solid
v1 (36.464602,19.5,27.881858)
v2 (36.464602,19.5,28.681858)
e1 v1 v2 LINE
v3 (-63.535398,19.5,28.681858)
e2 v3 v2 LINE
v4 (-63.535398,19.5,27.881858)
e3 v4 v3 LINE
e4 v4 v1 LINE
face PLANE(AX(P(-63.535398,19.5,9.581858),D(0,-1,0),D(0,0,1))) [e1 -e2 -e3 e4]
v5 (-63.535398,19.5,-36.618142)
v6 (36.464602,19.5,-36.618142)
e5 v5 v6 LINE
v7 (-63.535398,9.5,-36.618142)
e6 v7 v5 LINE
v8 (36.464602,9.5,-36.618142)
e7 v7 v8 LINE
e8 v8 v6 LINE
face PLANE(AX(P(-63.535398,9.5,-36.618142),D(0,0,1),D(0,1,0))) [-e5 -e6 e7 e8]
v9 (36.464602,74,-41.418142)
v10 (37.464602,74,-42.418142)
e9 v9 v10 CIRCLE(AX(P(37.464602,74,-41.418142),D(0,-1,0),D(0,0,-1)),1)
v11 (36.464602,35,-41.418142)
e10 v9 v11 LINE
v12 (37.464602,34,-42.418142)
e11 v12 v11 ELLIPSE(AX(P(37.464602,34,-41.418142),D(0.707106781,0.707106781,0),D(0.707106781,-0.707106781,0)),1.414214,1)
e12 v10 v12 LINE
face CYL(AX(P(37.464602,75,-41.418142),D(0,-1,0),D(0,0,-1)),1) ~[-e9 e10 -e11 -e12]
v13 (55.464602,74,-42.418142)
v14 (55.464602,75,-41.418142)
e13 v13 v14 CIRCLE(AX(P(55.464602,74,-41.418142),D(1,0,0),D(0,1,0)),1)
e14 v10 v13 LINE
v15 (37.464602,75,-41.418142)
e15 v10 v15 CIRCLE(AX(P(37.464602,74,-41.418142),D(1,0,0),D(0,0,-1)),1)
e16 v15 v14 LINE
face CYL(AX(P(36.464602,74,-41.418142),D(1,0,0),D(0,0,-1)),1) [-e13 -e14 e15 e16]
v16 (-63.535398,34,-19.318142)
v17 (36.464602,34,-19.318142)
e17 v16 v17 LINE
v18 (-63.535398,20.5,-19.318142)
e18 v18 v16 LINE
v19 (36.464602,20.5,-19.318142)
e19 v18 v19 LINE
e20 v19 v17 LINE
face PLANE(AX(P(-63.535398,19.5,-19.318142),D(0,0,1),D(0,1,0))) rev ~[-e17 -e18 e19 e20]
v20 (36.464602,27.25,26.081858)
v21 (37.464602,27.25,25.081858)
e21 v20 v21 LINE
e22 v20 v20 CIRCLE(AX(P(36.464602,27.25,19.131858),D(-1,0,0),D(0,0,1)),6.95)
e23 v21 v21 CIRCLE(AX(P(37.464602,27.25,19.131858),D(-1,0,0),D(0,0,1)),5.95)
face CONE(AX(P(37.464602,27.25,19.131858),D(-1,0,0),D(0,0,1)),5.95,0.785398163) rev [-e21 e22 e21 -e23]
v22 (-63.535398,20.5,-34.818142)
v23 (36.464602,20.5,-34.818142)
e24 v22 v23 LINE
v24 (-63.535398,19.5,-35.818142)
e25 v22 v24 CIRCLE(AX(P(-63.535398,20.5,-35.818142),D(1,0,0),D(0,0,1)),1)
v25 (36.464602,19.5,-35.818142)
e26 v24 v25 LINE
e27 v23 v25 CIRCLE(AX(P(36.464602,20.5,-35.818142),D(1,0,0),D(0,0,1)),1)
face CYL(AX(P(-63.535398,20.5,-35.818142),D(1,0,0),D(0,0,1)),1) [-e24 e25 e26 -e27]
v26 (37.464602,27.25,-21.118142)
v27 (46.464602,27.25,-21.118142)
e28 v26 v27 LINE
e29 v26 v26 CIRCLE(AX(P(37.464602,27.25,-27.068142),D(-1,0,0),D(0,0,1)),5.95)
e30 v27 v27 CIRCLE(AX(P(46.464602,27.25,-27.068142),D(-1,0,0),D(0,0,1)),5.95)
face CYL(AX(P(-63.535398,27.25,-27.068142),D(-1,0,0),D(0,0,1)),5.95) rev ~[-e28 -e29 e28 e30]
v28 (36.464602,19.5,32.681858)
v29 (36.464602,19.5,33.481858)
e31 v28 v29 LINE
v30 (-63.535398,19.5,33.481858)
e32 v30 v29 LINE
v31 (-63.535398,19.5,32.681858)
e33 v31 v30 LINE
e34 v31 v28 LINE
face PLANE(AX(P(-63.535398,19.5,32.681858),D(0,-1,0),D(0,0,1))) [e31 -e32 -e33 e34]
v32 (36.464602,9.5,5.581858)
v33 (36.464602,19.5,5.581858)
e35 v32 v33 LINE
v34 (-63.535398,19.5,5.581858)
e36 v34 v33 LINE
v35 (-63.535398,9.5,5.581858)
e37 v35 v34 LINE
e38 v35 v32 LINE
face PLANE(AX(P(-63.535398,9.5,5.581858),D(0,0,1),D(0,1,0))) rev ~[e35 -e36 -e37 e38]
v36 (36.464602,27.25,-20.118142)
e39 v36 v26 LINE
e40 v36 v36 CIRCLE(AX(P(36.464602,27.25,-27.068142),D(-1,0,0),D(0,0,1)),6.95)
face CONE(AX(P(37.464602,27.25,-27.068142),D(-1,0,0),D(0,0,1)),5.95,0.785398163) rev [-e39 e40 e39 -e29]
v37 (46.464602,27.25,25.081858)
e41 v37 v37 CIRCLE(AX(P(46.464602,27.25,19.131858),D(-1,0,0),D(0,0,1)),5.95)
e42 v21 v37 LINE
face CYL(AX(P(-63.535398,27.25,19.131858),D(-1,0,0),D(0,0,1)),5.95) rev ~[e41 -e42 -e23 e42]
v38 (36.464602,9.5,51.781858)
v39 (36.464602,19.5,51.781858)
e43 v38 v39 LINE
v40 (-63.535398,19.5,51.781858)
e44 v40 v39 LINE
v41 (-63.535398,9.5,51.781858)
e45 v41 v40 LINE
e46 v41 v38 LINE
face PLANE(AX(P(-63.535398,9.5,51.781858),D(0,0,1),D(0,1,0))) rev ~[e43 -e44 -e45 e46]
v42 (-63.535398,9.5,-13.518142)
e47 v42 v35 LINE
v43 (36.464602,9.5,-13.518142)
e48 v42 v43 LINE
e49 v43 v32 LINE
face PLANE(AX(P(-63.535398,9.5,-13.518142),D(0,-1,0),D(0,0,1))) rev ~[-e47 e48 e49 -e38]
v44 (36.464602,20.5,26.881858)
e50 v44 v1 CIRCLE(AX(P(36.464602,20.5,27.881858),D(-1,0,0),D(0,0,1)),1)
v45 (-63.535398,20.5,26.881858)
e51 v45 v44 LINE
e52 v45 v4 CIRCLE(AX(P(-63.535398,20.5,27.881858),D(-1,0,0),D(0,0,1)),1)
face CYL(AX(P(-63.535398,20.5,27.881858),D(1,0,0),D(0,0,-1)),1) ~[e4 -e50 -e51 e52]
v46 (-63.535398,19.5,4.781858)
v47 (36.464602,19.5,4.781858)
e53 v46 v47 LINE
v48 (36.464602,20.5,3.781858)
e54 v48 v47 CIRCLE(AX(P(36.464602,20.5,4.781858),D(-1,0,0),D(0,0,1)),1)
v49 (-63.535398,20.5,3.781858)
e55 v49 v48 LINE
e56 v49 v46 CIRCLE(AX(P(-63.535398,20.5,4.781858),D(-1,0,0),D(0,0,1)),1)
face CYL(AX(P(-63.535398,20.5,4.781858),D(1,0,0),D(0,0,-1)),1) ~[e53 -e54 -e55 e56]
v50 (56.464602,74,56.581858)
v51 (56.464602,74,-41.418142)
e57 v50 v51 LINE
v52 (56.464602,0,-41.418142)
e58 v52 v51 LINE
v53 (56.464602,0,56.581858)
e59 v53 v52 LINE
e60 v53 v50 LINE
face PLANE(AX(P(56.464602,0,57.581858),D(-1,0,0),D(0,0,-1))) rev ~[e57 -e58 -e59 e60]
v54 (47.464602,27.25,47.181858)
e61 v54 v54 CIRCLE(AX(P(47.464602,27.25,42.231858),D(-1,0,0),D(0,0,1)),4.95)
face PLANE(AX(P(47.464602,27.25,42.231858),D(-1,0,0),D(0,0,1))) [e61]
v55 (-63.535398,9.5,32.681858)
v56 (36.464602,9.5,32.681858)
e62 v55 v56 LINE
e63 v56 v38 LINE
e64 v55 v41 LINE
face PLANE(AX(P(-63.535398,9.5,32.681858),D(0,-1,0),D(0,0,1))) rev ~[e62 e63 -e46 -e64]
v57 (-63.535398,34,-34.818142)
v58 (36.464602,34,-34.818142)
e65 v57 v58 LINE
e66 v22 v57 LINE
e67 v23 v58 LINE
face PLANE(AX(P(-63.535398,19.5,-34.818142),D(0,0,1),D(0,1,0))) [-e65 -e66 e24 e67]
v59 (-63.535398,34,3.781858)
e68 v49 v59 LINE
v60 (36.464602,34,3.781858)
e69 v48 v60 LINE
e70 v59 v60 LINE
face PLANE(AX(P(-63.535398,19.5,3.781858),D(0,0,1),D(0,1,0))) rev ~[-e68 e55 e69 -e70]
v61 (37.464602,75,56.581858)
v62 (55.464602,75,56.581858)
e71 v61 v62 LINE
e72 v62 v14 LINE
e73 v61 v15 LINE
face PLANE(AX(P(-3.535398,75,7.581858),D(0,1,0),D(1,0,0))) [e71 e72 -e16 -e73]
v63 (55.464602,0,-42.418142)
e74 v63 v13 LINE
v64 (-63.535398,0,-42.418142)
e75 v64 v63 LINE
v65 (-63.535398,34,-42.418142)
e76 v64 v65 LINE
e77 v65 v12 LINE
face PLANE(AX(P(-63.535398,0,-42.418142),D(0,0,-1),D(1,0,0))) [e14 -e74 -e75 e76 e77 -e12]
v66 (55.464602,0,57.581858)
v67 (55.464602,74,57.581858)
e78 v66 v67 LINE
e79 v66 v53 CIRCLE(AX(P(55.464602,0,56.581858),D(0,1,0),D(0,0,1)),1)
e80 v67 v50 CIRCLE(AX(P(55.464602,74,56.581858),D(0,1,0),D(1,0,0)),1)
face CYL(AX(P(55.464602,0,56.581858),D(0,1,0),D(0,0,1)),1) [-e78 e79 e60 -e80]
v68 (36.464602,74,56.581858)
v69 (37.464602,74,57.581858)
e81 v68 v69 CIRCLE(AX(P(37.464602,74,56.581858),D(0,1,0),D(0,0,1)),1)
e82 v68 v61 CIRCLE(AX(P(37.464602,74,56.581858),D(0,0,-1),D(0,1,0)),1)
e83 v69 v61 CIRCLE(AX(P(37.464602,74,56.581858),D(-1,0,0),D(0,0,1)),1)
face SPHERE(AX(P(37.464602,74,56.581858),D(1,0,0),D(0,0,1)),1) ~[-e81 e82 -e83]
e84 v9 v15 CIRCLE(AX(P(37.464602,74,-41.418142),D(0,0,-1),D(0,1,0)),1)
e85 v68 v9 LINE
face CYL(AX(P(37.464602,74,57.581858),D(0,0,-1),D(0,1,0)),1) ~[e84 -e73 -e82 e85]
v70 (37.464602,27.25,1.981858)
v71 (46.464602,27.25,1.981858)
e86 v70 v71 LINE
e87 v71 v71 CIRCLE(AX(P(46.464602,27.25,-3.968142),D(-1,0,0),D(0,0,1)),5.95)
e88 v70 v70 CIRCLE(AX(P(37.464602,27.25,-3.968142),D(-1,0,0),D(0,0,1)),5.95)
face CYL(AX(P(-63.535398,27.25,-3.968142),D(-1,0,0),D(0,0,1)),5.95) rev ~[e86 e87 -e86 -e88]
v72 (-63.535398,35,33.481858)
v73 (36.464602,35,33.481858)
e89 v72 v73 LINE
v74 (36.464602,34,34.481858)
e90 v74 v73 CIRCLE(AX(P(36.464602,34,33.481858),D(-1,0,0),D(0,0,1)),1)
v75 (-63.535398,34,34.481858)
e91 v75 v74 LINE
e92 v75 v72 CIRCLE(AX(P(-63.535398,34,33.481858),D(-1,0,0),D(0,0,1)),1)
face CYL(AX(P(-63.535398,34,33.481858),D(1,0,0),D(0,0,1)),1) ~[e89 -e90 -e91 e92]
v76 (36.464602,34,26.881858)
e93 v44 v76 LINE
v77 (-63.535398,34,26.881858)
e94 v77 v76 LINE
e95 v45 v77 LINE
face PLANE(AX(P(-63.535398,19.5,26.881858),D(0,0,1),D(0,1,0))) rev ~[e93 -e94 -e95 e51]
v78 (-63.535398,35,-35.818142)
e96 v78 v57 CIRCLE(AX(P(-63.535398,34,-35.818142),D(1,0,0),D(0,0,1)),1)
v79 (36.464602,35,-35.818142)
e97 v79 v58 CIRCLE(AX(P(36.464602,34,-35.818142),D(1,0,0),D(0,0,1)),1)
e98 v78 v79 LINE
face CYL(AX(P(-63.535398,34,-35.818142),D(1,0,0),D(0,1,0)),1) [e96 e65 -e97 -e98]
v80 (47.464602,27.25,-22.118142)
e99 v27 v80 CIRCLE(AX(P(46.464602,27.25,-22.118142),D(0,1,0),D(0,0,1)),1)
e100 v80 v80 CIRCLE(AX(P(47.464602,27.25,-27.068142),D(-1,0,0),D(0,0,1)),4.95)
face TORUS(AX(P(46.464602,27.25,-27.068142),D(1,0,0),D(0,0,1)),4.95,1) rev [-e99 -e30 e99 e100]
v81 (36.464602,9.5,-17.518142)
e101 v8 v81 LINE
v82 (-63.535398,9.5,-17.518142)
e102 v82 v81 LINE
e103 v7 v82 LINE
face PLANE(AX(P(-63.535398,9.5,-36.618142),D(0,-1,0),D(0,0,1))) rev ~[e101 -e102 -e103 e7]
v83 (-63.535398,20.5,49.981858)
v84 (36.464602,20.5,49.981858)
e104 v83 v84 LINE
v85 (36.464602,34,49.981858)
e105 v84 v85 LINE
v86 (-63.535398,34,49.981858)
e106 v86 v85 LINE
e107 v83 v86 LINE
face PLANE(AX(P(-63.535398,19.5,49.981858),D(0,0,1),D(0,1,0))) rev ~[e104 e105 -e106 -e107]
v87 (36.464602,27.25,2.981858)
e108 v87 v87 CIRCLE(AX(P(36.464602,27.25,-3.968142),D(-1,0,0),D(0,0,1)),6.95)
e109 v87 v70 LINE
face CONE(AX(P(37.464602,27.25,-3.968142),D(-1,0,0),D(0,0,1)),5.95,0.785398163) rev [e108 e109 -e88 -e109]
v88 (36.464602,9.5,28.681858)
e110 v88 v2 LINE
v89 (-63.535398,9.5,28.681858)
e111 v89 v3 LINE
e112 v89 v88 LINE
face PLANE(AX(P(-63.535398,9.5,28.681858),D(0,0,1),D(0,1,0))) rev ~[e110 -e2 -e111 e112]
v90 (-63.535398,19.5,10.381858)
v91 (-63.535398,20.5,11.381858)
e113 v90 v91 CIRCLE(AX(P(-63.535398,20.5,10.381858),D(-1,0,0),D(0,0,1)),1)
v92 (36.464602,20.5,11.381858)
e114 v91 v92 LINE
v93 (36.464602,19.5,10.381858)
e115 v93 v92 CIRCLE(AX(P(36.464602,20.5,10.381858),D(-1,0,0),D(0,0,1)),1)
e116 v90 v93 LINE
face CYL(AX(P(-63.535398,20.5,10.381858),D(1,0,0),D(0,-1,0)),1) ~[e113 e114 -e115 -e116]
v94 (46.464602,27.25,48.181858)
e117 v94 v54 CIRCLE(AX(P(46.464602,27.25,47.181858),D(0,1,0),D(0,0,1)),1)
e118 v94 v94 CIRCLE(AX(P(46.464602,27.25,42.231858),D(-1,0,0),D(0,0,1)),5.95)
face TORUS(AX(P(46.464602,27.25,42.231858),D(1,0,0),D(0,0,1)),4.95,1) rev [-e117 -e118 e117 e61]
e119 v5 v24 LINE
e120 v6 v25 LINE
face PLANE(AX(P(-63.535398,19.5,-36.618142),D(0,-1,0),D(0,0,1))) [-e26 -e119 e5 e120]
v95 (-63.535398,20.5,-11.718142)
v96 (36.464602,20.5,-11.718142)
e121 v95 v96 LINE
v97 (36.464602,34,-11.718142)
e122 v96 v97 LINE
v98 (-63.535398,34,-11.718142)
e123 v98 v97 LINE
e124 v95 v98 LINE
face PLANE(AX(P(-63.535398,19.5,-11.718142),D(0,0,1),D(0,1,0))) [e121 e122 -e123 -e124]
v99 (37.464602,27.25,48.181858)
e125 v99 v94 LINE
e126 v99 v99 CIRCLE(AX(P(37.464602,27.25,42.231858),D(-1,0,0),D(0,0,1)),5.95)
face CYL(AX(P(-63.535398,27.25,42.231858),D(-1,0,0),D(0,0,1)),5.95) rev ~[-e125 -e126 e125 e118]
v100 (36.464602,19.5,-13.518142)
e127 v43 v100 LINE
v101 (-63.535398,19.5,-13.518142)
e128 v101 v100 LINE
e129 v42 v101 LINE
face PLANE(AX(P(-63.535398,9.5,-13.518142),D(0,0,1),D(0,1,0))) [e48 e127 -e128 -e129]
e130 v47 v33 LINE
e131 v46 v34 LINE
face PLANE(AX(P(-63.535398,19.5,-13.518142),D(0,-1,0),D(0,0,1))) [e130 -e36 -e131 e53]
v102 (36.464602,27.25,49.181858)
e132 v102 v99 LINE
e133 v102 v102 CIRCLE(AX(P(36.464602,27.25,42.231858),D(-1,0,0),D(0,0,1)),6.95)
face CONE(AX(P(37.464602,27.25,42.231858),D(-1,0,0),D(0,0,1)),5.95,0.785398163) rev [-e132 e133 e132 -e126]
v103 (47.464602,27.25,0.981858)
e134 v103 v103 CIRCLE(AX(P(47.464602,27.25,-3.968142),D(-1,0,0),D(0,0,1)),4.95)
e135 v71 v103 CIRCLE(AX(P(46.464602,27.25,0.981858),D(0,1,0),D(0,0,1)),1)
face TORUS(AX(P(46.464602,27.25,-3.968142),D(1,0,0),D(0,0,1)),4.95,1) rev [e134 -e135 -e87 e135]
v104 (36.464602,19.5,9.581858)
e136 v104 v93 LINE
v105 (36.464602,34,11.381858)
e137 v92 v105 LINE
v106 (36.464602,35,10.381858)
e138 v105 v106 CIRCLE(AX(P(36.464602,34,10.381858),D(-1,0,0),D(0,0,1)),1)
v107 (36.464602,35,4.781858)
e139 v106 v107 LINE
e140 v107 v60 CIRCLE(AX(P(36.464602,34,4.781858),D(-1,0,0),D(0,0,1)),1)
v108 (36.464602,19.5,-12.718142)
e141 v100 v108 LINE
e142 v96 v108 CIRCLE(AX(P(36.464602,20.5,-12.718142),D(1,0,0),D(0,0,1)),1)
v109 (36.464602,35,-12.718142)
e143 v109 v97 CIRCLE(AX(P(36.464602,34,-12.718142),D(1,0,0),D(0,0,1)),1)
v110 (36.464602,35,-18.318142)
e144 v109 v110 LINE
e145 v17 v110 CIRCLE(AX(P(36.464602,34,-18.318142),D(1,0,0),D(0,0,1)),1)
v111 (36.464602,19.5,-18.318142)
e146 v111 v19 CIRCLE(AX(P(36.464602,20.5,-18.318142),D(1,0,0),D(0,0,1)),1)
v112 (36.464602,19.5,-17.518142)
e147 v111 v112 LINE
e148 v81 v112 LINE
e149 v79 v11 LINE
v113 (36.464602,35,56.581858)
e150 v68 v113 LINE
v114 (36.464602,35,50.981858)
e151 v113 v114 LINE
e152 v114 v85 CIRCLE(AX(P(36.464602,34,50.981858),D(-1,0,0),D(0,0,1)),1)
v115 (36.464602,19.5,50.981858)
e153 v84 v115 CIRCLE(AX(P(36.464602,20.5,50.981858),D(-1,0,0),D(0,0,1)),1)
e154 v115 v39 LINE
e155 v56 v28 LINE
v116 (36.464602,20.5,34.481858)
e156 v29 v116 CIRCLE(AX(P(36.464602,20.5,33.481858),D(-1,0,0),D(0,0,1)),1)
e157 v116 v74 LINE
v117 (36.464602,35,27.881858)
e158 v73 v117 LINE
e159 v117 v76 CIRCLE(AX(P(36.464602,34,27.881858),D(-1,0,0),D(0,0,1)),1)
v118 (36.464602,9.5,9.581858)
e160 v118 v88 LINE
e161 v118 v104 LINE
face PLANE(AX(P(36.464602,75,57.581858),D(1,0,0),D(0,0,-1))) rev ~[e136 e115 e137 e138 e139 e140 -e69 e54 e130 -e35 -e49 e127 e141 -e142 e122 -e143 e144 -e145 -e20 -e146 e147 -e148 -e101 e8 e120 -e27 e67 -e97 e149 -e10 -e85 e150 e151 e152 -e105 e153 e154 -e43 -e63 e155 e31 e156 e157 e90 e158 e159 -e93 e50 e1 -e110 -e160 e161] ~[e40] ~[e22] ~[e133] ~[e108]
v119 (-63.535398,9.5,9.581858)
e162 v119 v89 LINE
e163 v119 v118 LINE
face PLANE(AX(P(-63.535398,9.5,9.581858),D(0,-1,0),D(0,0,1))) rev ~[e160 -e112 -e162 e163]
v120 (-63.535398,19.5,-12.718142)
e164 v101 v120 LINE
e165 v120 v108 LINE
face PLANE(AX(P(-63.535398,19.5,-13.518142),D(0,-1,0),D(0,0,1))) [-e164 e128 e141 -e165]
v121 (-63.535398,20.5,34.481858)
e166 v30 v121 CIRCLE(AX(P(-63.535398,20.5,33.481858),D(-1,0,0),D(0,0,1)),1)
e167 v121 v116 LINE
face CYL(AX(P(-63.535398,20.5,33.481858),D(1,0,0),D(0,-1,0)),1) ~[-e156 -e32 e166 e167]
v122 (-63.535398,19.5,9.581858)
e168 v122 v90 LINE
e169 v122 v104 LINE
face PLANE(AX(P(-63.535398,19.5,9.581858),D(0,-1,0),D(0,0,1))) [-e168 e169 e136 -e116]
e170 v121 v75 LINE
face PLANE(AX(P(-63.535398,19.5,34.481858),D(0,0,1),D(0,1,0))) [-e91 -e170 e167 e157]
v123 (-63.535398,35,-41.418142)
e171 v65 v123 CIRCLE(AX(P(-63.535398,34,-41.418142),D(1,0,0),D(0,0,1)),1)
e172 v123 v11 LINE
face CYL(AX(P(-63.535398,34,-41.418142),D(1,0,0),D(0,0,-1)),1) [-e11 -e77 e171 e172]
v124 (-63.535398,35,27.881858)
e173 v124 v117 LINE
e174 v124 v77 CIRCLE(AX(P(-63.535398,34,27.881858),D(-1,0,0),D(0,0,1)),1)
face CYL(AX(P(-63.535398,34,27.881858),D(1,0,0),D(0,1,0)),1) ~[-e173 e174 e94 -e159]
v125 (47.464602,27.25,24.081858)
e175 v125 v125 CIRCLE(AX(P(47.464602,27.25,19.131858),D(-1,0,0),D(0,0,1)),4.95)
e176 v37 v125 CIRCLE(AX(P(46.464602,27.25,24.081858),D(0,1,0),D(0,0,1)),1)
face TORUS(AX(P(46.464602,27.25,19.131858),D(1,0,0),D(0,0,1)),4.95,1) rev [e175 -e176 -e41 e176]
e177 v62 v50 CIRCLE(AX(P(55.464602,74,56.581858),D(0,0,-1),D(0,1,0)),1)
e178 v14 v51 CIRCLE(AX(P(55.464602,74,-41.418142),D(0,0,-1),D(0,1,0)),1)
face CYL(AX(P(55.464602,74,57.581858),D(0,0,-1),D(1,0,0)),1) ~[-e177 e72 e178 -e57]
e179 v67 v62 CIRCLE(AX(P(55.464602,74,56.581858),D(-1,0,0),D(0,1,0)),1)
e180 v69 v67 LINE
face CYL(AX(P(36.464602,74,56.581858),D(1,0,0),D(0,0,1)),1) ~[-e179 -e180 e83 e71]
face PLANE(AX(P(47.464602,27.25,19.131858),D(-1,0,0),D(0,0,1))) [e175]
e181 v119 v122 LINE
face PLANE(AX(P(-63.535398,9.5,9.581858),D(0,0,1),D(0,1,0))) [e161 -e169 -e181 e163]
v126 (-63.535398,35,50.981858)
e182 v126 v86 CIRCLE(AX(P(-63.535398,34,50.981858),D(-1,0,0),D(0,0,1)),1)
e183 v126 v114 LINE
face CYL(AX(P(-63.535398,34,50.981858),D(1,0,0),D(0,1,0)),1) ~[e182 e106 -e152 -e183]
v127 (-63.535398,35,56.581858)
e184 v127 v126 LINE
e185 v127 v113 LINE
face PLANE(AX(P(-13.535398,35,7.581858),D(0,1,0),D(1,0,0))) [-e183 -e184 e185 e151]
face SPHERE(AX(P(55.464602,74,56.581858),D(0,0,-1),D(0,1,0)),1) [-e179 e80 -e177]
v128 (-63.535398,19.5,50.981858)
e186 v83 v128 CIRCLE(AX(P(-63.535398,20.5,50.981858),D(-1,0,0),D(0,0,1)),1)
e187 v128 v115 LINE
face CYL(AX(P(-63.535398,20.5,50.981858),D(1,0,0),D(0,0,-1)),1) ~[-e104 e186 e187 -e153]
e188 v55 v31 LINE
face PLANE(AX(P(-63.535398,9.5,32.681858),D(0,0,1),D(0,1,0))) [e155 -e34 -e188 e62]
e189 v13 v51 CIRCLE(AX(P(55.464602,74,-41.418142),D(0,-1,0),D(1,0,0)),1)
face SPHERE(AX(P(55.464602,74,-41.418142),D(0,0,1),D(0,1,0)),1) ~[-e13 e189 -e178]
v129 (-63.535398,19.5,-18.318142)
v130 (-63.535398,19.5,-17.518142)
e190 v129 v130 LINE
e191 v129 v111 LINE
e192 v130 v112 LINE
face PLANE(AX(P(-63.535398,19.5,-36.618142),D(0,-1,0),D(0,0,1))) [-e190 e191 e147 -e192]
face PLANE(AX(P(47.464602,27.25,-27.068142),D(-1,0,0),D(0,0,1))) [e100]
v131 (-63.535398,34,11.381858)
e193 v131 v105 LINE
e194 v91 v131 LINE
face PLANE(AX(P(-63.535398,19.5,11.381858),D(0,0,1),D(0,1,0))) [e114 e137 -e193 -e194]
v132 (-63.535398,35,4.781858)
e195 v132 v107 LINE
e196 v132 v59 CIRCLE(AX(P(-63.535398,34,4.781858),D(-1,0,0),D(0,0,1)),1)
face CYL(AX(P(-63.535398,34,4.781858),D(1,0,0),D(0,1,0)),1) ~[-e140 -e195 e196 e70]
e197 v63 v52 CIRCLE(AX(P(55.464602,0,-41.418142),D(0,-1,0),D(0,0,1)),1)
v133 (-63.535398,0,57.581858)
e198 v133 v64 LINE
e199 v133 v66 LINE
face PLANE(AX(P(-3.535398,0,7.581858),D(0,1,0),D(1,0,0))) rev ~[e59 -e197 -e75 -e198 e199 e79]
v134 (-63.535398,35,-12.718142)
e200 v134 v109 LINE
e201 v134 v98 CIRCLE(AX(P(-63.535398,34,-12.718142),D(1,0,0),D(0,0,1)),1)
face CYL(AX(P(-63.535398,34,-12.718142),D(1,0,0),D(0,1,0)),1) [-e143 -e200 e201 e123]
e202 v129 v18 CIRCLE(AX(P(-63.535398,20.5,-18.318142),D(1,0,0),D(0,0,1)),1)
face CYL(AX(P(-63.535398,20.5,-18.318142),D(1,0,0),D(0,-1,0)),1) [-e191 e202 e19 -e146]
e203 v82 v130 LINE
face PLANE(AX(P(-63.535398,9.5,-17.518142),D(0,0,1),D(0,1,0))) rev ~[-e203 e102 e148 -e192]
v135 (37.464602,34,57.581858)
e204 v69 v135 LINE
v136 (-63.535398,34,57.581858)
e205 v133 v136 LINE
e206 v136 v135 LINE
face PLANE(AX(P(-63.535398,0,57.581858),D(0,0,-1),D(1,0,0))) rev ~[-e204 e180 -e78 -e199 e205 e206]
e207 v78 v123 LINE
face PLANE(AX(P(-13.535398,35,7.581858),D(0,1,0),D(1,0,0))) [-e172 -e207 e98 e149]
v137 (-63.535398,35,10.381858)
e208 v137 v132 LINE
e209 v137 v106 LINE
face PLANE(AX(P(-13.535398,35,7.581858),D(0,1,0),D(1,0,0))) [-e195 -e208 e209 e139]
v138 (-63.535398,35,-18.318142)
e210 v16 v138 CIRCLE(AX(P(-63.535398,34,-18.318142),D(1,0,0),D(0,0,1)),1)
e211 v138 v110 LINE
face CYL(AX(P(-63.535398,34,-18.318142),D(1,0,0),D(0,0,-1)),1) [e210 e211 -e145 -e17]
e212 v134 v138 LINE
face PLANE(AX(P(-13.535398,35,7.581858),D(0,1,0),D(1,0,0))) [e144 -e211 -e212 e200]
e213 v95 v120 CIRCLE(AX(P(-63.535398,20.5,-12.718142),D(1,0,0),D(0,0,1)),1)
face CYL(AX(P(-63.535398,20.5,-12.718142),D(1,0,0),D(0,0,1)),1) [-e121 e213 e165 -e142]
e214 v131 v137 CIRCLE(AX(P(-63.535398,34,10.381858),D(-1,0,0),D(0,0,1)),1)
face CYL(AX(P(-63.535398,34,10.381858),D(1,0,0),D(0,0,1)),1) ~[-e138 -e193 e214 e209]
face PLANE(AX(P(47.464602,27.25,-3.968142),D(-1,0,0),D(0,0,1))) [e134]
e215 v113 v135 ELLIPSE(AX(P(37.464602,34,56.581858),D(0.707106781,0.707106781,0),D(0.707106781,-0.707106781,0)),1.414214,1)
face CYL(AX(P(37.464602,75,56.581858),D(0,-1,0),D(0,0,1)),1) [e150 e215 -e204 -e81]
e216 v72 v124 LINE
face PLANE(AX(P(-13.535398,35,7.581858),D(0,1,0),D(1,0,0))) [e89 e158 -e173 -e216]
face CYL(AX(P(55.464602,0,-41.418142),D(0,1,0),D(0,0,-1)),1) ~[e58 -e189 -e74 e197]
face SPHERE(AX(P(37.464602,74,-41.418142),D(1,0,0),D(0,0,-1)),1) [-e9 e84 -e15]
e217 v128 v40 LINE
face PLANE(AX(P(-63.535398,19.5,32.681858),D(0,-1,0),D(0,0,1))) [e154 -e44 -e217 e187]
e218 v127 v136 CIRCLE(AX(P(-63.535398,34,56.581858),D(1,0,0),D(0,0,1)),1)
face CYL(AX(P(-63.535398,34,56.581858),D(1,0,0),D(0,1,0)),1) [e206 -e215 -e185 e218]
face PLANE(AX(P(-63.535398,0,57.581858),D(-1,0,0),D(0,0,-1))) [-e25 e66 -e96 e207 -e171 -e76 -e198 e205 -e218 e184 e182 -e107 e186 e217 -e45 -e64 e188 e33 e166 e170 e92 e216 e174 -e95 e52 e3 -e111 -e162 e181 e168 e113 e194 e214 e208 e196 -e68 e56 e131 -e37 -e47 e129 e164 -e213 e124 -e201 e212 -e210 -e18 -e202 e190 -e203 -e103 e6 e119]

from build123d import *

# Parameters (mm, degrees)
SKETCH1_W           = 120
SKETCH1_H           = 100
BOSS_EXTRUDE1_DEPTH = 75
SKETCH2_W           = 100
SKETCH2_H           = 100
CUT_EXTRUDE1_DEPTH  = 40
SKETCH6_W           = 15.5
SKETCH6_H           = 15.5
CUT_EXTRUDE4_DEPTH  = 100
SKETCH8_W           = 19.1
SKETCH8_H           = 10
CUT_EXTRUDE5_DEPTH  = 100
SKETCH6_3_R         = 5.95
CUT_EXTRUDE6_DEPTH  = 111
FILLET1_R           = 1
CHAMFER1_SIZE       = 1
FILLET2_R           = 1
FILLET3_R           = 1


with BuildPart() as part:
    # Sketch1 → Boss-Extrude1 (new body)
    with BuildSketch(Plane(origin=(0, 0, 0), x_dir=(1, 0, 0), z_dir=(0, 1, 0))):
        with Locations((-3.53539823, -7.581858407)):
            Rectangle(SKETCH1_W, SKETCH1_H)
    extrude(amount=BOSS_EXTRUDE1_DEPTH)

    # Sketch2 → Cut-Extrude1 (cut)
    with BuildSketch(Plane(origin=(0, 75, 0), x_dir=(1, 0, 0), z_dir=(0, 1, 0))):
        with Locations((-13.53539823, -7.581858407)):
            Rectangle(SKETCH2_W, SKETCH2_H)
    extrude(amount=-CUT_EXTRUDE1_DEPTH, mode=Mode.SUBTRACT)

    # Sketch6 → Cut-Extrude4 (cut)
    with BuildSketch(Plane.ZY.offset(63.53539823)):
        with Locations((-27.068141593, 27.25)):
            Rectangle(SKETCH6_W, SKETCH6_H)
        with Locations((-3.968141593, 27.25)):
            Rectangle(SKETCH6_W, SKETCH6_H)
        with Locations((19.131858407, 27.25)):
            Rectangle(SKETCH6_W, SKETCH6_H)
        with Locations((42.231858407, 27.25)):
            Rectangle(SKETCH6_W, SKETCH6_H)
    extrude(amount=-CUT_EXTRUDE4_DEPTH, mode=Mode.SUBTRACT)

    # Sketch8 → Cut-Extrude5 (cut)
    with BuildSketch(Plane.ZY.offset(63.53539823)):
        with Locations((-27.068141593, 14.5)):
            Rectangle(SKETCH8_W, SKETCH8_H)
        with Locations((-3.968141593, 14.5)):
            Rectangle(SKETCH8_W, SKETCH8_H)
        with Locations((42.231858407, 14.5)):
            Rectangle(SKETCH8_W, SKETCH8_H)
        with Locations((19.131858407, 14.5)):
            Rectangle(SKETCH8_W, SKETCH8_H)
    extrude(amount=-CUT_EXTRUDE5_DEPTH, mode=Mode.SUBTRACT)

    # Sketch6<3> → Cut-Extrude6 (cut)
    with BuildSketch(Plane.ZY.offset(63.53539823)):
        with Locations((-27.068141593, 27.25)):
            Circle(SKETCH6_3_R)
        with Locations((-3.968141593, 27.25)):
            Circle(SKETCH6_3_R)
        with Locations((42.231858407, 27.25)):
            Circle(SKETCH6_3_R)
        with Locations((19.131858407, 27.25)):
            Circle(SKETCH6_3_R)
    extrude(amount=-CUT_EXTRUDE6_DEPTH, mode=Mode.SUBTRACT)

    # Fillet1
    fillet1_edges = [part.edges().sort_by_distance(p)[0] for p in [
        (56.46460177, 75, 7.581858407),
        (46.46460177, 75, 57.581858407),
        (46.46460177, 75, -42.418141593),
        (-13.53539823, 35, -42.418141593),
        (36.46460177, 55, -42.418141593),
        (-13.53539823, 35, 57.581858407),
        (36.46460177, 55, 57.581858407),
        (36.46460177, 75, 7.581858407),
        (56.46460177, 37.5, -42.418141593),
        (56.46460177, 37.5, 57.581858407),
    ]]
    fillet(fillet1_edges, radius=FILLET1_R)

    # Chamfer1
    chamfer1_edges = [part.edges().sort_by_distance(p)[0] for p in [
        (36.46460177, 27.25, -33.018141593),
        (36.46460177, 27.25, -9.918141593),
        (36.46460177, 27.25, 13.181858407),
        (36.46460177, 27.25, 36.281858407),
    ]]
    chamfer(chamfer1_edges, length=CHAMFER1_SIZE)

    # Fillet2
    fillet2_edges = [part.edges().sort_by_distance(p)[0] for p in [
        (47.46460177, 27.25, -33.018141593),
        (47.46460177, 27.25, -9.918141593),
        (47.46460177, 27.25, 13.181858407),
        (47.46460177, 27.25, 36.281858407),
    ]]
    fillet(fillet2_edges, radius=FILLET2_R)

    # Fillet3
    fillet3_edges = [part.edges().sort_by_distance(p)[0] for p in [
        (-13.53539823, 19.5, -19.318141593),
        (-13.53539823, 19.5, -34.818141593),
        (-13.53539823, 35, -34.818141593),
        (-13.53539823, 35, -19.318141593),
        (-13.53539823, 19.5, 3.781858407),
        (-13.53539823, 19.5, -11.718141593),
        (-13.53539823, 35, -11.718141593),
        (-13.53539823, 35, 3.781858407),
        (-13.53539823, 19.5, 49.981858407),
        (-13.53539823, 19.5, 34.481858407),
        (-13.53539823, 35, 34.481858407),
        (-13.53539823, 35, 49.981858407),
        (-13.53539823, 19.5, 26.881858407),
        (-13.53539823, 19.5, 11.381858407),
        (-13.53539823, 35, 11.381858407),
        (-13.53539823, 35, 26.881858407),
    ]]
    fillet(fillet3_edges, radius=FILLET3_R)


solid = part.part
